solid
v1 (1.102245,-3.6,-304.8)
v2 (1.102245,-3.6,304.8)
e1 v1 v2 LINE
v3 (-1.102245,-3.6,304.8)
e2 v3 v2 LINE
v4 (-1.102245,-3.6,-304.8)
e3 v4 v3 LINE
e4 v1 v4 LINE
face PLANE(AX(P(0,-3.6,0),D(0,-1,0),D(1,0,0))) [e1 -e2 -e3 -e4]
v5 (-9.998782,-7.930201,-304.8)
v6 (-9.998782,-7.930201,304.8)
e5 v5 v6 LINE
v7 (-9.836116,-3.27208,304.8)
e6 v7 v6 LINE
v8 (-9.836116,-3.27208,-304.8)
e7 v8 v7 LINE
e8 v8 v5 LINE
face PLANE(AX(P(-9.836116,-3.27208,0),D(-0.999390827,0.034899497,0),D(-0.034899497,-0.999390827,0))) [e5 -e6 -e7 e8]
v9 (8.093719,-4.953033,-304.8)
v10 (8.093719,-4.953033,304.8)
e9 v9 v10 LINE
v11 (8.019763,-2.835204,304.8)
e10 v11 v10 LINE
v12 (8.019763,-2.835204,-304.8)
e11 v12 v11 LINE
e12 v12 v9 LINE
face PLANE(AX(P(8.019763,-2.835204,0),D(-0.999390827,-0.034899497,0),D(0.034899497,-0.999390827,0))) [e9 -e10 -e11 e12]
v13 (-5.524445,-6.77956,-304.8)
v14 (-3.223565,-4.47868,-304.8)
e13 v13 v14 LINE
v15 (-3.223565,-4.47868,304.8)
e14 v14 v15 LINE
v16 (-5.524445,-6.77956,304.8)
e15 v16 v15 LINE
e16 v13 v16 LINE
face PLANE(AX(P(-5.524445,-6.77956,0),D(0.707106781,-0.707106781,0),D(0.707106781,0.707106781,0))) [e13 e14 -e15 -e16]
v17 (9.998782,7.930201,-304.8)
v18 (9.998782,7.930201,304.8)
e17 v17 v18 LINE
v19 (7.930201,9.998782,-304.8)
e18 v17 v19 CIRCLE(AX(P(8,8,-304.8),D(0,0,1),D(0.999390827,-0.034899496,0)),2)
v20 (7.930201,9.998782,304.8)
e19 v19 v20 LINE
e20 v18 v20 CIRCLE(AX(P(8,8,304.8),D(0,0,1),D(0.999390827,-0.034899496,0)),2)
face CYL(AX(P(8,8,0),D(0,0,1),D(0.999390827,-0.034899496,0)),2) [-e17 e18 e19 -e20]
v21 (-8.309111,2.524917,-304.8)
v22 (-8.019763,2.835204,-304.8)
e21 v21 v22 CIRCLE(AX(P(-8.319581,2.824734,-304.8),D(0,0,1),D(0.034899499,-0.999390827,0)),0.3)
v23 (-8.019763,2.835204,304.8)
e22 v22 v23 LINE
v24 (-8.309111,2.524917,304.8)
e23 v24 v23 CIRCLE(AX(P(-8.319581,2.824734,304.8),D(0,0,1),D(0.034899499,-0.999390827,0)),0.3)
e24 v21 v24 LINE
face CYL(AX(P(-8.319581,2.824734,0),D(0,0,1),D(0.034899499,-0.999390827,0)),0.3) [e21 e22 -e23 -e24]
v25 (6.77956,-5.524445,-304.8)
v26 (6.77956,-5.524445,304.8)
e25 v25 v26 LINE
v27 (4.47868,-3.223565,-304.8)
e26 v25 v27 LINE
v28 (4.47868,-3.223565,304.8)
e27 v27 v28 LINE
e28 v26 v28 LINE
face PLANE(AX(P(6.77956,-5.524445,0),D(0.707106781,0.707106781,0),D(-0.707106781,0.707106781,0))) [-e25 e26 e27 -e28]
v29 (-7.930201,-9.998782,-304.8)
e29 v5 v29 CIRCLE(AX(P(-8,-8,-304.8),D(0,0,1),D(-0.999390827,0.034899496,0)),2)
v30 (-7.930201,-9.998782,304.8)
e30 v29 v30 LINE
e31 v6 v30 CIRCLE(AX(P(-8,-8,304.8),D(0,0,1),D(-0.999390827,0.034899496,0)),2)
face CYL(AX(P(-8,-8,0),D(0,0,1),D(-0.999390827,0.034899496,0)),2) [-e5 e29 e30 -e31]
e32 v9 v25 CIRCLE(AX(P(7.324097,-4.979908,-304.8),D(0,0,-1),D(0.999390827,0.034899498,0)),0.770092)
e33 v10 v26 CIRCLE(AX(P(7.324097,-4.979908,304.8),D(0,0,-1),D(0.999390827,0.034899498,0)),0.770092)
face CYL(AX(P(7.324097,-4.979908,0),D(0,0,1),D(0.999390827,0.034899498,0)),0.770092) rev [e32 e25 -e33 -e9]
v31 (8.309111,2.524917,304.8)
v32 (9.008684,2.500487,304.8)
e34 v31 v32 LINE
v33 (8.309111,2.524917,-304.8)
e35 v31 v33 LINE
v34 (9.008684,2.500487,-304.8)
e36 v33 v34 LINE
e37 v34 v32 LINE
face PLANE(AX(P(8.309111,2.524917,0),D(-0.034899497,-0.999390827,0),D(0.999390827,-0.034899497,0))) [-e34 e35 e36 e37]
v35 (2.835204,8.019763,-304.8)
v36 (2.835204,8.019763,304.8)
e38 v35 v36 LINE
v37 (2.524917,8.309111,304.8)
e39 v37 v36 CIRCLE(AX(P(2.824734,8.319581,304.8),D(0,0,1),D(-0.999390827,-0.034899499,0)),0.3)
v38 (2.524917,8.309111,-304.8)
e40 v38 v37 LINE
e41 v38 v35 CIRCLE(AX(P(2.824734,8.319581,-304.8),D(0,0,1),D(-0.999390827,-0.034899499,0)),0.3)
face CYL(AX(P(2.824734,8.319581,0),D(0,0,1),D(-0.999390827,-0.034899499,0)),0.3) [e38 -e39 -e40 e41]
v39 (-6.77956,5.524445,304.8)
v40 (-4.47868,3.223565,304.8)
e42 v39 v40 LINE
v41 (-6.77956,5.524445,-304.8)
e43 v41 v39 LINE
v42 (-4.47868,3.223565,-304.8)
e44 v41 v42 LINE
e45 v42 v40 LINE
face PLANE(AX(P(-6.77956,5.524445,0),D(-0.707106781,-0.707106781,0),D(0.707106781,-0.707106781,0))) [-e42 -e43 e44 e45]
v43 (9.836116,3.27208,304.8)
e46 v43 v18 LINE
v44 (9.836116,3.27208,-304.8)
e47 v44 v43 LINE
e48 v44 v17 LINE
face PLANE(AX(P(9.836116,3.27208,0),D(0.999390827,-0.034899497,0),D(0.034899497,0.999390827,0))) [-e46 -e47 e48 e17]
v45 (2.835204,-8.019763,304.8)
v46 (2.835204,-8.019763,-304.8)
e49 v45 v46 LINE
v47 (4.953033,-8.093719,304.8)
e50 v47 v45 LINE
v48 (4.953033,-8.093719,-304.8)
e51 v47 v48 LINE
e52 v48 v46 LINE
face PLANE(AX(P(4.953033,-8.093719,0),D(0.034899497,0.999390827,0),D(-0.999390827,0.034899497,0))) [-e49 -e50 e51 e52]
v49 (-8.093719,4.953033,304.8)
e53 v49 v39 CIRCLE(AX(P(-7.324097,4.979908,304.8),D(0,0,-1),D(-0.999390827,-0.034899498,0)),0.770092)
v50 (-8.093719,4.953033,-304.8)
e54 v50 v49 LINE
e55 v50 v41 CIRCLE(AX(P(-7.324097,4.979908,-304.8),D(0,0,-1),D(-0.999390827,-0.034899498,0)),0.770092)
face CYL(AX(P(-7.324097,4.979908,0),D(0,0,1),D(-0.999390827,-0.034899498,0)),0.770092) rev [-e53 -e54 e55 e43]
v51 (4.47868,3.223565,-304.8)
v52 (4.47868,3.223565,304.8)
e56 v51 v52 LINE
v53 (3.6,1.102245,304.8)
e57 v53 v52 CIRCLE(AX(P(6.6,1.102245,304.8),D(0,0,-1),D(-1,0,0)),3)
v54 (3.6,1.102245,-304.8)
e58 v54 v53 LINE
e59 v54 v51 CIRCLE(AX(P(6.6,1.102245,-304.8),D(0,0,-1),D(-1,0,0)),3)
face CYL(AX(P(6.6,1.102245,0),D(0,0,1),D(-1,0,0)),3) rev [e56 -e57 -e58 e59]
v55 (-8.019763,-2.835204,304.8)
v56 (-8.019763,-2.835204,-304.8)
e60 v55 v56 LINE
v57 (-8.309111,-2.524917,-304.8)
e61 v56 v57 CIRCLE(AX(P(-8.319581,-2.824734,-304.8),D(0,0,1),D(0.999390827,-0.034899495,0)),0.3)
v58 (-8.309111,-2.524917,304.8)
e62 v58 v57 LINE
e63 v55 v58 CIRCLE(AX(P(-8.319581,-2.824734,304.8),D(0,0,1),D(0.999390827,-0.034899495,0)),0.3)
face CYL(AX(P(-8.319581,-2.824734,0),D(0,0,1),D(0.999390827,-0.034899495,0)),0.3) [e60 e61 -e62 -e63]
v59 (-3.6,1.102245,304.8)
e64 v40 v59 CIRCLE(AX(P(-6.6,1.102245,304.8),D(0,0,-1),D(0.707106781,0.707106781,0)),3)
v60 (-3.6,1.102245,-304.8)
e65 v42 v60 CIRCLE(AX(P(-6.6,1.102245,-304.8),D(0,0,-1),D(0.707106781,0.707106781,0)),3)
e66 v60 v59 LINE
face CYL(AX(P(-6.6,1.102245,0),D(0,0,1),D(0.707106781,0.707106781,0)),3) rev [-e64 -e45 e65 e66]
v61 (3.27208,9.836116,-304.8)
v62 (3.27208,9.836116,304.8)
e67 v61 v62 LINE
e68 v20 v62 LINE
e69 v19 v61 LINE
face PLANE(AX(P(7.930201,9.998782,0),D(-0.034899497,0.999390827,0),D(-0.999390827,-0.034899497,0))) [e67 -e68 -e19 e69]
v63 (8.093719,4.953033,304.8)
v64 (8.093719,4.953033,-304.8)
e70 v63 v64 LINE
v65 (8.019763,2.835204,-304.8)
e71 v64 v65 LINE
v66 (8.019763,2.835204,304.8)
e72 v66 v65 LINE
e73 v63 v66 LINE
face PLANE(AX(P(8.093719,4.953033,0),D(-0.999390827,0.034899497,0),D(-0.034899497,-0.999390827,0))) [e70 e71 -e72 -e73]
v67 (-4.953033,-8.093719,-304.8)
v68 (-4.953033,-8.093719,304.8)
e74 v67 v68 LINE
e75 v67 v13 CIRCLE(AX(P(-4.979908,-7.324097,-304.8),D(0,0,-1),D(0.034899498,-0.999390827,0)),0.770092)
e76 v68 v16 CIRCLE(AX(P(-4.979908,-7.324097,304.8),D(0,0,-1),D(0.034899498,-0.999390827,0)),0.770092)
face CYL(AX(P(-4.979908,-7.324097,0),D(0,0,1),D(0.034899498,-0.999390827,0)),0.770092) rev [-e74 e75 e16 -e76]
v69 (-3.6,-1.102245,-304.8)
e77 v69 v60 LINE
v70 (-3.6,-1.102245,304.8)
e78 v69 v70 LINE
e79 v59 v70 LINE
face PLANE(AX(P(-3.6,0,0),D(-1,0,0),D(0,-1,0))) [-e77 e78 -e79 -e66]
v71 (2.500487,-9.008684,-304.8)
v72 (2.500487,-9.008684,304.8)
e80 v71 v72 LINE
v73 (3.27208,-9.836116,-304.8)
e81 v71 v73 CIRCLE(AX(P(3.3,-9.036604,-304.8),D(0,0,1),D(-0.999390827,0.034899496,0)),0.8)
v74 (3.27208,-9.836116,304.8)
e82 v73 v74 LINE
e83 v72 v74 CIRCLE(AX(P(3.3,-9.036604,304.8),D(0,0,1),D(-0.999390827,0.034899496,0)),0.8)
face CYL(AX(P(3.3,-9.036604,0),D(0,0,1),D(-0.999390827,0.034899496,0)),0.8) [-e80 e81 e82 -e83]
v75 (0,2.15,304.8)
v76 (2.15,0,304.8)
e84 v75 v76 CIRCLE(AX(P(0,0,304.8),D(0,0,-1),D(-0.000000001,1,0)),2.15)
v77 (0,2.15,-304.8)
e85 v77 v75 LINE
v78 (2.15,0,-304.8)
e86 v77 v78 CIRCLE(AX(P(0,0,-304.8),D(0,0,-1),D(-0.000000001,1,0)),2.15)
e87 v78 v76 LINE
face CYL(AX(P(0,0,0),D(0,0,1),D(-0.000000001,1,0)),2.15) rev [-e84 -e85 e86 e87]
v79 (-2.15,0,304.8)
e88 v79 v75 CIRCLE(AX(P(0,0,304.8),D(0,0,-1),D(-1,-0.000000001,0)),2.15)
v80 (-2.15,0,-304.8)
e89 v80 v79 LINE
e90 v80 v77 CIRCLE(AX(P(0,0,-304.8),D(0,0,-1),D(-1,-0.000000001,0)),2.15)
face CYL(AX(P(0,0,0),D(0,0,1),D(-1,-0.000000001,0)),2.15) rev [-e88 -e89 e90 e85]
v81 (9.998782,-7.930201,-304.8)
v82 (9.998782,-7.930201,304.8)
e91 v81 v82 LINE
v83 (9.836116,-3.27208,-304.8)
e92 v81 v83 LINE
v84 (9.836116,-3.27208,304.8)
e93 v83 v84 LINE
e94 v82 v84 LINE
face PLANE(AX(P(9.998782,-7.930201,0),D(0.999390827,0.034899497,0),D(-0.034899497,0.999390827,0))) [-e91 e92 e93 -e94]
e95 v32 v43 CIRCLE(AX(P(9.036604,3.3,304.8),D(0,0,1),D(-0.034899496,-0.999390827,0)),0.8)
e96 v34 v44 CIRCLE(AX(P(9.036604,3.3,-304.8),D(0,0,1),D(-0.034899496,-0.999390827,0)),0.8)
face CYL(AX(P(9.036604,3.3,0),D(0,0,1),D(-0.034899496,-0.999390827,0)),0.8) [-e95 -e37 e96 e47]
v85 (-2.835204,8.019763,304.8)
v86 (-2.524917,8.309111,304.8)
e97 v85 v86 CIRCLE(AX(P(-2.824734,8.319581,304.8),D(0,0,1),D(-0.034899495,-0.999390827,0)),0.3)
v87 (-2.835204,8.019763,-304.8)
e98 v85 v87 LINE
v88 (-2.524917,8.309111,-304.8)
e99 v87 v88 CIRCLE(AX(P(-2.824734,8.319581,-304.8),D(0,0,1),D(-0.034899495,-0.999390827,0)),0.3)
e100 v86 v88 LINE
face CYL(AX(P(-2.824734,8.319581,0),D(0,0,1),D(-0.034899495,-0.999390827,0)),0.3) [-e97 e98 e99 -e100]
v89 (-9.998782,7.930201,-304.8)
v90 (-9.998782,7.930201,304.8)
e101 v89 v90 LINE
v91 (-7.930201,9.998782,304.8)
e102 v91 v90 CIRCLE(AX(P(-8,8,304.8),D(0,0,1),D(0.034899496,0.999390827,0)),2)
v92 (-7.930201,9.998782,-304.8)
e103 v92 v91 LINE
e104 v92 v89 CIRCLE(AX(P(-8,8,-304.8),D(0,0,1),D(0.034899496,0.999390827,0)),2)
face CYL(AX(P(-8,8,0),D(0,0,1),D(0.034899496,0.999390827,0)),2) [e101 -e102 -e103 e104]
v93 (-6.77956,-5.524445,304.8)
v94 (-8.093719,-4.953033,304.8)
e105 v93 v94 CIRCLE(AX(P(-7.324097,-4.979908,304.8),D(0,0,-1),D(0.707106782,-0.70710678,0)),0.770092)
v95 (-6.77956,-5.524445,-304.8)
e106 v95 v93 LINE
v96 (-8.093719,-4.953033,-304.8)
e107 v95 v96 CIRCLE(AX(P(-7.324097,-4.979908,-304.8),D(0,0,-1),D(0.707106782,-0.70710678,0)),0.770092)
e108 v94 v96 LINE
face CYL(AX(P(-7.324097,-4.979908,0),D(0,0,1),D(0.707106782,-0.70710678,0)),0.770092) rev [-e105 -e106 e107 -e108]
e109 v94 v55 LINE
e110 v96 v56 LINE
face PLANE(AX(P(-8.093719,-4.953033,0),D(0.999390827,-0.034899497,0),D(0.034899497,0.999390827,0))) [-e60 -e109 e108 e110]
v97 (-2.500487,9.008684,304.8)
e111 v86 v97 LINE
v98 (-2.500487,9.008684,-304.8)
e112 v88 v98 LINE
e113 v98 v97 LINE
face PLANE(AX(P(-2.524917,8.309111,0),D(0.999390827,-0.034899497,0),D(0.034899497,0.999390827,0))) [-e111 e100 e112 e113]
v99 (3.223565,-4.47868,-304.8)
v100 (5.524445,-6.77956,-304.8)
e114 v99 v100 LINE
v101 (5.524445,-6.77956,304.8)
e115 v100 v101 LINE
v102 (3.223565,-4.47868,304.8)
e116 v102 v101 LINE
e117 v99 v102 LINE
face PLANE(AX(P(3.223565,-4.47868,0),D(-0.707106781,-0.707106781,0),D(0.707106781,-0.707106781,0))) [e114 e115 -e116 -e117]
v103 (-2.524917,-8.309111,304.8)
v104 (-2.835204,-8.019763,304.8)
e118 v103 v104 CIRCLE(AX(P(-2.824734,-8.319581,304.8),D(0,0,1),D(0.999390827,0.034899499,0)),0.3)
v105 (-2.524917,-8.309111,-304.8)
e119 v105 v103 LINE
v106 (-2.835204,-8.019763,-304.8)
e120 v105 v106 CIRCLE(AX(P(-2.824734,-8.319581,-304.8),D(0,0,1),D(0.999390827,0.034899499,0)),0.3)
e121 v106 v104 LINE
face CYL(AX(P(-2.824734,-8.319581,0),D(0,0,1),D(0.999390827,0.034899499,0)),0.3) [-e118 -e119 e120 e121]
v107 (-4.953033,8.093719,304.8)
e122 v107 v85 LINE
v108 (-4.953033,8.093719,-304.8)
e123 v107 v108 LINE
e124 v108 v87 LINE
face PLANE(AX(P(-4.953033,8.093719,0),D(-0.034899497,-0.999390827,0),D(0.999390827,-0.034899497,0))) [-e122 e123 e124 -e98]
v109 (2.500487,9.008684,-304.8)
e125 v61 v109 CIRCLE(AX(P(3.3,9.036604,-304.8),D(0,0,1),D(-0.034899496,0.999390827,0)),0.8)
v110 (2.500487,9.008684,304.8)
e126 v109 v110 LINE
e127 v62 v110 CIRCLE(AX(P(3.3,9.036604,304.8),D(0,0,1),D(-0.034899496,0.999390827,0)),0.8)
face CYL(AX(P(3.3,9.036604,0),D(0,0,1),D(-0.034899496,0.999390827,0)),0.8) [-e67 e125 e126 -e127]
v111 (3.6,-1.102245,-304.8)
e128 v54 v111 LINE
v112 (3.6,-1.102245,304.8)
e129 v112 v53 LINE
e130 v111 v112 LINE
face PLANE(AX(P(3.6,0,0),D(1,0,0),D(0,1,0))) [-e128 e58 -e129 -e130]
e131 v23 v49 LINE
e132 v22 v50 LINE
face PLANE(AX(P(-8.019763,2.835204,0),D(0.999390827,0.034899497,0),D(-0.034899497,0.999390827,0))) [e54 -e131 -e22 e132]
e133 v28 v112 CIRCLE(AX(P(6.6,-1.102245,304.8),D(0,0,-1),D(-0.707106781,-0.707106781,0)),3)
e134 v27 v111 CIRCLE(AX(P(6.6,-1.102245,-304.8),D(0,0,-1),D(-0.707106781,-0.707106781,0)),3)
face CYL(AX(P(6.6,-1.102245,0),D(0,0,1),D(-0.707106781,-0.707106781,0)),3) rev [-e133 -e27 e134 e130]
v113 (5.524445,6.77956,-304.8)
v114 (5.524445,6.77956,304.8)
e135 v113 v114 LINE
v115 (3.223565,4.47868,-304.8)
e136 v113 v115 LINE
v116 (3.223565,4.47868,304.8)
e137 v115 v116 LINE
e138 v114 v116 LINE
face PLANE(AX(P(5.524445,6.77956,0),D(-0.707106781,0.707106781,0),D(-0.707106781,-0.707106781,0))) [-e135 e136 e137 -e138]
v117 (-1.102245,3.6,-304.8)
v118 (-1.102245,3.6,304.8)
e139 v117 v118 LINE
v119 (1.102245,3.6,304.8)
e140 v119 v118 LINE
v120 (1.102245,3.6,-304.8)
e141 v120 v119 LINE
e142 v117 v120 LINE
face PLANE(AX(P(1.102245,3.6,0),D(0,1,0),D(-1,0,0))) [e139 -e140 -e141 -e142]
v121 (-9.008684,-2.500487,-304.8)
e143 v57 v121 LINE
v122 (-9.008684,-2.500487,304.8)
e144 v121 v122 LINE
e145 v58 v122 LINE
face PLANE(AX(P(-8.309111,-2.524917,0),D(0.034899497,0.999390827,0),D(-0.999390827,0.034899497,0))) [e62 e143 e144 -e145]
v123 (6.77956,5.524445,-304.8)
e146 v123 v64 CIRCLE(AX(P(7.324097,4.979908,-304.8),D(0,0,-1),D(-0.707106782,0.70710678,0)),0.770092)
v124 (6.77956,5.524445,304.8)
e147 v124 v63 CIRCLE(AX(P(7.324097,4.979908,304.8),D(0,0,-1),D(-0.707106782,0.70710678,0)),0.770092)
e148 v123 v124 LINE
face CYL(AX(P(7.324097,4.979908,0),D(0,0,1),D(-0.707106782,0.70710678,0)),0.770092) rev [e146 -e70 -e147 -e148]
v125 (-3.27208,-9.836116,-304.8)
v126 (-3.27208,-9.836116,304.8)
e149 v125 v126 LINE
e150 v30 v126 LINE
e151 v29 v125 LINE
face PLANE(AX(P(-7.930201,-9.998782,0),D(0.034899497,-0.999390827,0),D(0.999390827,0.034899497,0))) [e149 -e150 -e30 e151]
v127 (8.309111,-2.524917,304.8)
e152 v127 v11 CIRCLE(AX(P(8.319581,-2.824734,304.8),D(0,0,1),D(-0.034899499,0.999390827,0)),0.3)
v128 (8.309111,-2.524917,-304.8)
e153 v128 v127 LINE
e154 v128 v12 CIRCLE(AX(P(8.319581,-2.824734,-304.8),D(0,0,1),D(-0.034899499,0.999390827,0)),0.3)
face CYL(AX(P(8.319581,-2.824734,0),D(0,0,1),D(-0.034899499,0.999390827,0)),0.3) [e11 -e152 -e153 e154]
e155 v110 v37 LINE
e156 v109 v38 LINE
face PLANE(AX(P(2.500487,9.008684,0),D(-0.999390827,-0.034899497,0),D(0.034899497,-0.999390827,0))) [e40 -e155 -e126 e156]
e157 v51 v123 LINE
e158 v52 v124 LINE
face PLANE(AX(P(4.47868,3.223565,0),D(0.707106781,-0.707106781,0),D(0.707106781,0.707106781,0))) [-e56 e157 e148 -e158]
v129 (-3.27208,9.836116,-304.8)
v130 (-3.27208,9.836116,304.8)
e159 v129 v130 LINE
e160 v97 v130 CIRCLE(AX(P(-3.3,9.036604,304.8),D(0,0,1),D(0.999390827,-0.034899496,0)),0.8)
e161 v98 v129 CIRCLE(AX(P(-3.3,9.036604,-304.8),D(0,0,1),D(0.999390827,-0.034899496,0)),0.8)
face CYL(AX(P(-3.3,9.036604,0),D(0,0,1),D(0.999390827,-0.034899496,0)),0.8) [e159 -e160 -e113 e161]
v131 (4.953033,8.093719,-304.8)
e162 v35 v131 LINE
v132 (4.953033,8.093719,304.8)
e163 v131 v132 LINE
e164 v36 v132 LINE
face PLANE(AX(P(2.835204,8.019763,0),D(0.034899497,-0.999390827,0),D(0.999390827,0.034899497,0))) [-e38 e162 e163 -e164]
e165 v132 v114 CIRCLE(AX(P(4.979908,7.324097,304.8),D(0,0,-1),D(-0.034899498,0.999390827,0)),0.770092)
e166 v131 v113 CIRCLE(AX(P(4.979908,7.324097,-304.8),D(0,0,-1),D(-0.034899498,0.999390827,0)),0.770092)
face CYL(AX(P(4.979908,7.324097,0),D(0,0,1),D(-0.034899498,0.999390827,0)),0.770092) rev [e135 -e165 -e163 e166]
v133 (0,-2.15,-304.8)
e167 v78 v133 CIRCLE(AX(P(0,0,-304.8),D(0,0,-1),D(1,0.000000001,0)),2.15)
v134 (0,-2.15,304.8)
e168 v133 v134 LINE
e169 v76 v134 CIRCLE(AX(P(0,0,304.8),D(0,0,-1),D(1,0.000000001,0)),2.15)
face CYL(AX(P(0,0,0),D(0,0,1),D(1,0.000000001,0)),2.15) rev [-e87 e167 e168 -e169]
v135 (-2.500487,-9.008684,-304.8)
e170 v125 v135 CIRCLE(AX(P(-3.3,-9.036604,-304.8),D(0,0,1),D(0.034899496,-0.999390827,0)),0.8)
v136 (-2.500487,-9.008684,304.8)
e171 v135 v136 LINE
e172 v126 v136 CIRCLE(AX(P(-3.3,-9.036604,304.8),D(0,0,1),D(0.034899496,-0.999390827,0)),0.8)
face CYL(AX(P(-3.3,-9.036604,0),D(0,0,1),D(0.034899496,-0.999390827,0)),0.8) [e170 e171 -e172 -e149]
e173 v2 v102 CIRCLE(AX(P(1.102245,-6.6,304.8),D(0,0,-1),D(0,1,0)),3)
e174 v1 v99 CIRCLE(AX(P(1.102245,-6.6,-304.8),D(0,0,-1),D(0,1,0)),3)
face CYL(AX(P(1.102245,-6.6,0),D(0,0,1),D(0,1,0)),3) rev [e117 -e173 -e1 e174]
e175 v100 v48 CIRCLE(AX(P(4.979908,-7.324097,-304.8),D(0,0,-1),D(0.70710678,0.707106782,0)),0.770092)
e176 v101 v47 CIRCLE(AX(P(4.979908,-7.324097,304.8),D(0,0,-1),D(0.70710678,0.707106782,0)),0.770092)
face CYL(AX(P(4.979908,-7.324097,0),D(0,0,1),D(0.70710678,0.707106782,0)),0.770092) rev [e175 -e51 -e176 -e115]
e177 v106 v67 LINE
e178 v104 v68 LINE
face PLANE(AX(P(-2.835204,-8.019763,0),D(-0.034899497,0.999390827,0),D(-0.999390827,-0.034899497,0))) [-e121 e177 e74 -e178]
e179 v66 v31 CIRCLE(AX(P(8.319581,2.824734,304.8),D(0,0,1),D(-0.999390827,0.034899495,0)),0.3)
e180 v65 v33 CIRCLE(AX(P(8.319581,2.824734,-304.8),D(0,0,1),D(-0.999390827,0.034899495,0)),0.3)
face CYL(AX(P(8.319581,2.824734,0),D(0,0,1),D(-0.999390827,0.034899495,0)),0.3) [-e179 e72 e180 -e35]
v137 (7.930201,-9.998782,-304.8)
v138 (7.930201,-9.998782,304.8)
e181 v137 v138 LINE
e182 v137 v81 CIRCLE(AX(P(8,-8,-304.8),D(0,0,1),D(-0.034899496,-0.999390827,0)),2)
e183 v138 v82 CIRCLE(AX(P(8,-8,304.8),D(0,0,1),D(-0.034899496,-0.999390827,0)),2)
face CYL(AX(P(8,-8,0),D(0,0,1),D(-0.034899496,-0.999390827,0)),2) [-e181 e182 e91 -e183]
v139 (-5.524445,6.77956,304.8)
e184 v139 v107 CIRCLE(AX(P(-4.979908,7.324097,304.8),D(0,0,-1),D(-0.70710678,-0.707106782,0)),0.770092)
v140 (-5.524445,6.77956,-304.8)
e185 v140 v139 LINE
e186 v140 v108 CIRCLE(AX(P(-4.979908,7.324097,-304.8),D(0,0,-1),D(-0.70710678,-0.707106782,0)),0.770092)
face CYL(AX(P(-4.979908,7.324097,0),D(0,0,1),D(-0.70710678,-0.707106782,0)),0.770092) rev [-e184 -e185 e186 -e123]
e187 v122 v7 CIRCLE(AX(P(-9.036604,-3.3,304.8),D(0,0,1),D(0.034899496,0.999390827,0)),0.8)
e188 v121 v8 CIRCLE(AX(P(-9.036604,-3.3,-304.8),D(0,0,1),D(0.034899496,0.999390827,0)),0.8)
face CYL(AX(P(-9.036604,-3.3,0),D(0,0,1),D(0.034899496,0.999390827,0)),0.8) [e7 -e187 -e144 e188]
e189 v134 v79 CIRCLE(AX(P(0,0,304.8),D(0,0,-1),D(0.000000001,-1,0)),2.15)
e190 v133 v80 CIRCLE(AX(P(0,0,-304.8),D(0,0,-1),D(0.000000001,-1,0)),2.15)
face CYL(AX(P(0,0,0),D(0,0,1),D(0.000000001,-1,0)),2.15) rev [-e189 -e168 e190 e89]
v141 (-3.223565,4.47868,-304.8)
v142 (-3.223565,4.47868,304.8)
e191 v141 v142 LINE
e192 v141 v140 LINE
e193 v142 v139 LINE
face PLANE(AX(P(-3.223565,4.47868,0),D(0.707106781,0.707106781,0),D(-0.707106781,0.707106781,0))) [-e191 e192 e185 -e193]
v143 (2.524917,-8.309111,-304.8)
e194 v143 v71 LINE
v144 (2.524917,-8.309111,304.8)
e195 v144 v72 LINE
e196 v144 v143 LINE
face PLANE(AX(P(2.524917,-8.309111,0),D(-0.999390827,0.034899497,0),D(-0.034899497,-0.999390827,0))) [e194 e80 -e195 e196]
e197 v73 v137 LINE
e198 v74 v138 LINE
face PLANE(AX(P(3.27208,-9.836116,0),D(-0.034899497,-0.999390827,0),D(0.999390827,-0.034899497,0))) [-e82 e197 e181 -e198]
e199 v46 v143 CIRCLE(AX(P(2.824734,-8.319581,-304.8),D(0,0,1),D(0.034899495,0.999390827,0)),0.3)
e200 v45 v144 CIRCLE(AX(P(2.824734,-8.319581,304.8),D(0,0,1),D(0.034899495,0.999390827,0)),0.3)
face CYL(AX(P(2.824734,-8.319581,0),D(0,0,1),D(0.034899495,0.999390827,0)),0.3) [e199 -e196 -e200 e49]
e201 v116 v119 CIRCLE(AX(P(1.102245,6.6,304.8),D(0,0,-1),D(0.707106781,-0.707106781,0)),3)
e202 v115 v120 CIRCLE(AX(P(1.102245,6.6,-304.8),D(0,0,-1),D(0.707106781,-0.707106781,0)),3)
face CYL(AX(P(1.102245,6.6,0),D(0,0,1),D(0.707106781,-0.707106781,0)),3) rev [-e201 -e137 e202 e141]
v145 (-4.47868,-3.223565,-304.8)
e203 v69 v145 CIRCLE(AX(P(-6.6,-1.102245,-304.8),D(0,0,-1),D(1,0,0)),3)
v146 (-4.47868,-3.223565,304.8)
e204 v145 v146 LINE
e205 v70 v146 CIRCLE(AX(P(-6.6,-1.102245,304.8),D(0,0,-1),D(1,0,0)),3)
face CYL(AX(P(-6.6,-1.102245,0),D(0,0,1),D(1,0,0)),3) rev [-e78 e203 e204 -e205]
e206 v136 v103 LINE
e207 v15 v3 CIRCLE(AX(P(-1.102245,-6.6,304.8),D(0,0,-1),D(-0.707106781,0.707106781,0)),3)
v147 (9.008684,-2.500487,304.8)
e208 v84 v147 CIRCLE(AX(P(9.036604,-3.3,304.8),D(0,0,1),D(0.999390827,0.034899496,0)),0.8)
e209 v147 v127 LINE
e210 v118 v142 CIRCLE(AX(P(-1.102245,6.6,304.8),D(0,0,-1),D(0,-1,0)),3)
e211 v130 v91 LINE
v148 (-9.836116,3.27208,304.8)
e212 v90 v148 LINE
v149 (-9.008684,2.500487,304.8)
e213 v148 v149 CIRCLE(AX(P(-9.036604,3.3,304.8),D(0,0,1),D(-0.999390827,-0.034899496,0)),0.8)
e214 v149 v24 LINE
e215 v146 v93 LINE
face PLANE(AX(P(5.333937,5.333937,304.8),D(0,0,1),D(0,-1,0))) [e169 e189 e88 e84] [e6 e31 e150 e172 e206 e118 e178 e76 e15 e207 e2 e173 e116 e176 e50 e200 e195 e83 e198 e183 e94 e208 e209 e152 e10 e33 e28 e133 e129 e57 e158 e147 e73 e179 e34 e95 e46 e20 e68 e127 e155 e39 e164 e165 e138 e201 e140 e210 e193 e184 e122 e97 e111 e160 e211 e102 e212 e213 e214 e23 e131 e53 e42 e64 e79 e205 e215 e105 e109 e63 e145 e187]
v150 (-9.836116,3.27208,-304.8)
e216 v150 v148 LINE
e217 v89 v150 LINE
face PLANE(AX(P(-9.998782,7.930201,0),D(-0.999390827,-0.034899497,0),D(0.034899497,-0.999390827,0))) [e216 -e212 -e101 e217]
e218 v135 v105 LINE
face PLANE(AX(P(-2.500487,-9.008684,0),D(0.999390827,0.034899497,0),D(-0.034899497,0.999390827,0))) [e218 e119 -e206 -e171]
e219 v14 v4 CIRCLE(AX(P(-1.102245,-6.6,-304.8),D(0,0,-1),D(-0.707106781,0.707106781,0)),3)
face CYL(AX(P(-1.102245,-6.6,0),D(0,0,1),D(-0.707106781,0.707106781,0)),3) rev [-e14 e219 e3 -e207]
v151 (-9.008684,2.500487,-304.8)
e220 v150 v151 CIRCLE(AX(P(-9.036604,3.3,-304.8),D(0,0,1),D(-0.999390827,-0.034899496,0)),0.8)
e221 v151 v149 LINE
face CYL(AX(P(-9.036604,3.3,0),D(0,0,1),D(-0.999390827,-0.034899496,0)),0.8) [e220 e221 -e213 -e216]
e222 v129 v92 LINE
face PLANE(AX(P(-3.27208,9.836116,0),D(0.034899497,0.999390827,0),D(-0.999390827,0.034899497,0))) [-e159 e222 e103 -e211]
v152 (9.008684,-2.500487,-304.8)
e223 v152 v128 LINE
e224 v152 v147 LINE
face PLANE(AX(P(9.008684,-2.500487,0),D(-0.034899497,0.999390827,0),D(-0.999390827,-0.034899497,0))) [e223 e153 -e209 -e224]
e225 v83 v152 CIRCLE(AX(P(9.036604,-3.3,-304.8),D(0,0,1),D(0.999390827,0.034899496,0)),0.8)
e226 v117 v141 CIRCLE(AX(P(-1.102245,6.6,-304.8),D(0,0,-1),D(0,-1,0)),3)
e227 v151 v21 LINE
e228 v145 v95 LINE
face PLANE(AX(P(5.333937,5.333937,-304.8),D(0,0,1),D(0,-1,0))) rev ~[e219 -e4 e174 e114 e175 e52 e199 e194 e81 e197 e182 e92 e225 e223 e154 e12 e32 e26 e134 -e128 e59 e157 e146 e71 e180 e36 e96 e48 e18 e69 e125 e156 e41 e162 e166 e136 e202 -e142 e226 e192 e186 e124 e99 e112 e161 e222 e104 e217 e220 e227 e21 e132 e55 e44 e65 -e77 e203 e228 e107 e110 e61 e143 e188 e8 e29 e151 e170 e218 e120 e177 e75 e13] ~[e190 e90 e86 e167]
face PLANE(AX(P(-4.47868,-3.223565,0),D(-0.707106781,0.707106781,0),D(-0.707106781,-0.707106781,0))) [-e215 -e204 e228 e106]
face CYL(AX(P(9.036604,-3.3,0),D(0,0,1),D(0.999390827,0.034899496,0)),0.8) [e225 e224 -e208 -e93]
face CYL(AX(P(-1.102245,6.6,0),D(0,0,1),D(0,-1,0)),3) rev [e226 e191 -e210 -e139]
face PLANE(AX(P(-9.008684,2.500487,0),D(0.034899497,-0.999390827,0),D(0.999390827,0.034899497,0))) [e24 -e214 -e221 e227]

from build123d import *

# Parameters (mm, degrees)
BOSS_EXTRUDE1_DEPTH = 304.8
CIRPATTERN1_COUNT   = 4


with BuildPart() as part:
    # Sketch3 → Boss-Extrude1 (new body, symmetric)
    with BuildSketch(Plane.XY):
        with BuildLine():
            Line((-2.524916986, 8.30911066), (-2.500487338, 9.008684239))
            ThreePointArc((-2.500487338, 9.008684239), (-2.714917039, 9.582202525), (-3.272080403, 9.836116498))
            Line((-3.272080403, 9.836116498), (-7.930201007, 9.998781654))
            ThreePointArc((-7.930201007, 9.998781654), (-9.414213562, 9.414213562), (-9.998781654, 7.930201007))
            Line((-9.998781654, 7.930201007), (-9.836116498, 3.272080403))
            ThreePointArc((-9.836116498, 3.272080403), (-9.582202525, 2.714917039), (-9.008684239, 2.500487338))
            Line((-9.008684239, 2.500487338), (-8.30911066, 2.524916986))
            ThreePointArc((-8.30911066, 2.524916986), (-8.100174399, 2.620134726), (-8.019763261, 2.835204083))
            Line((-8.019763261, 2.835204083), (-8.093719461, 4.953032548))
            ThreePointArc((-8.093719461, 4.953032548), (-7.631170264, 5.686128657), (-6.779559917, 5.52444538))
            Line((-6.779559917, 5.52444538), (-4.478679656, 3.22356512))
            ThreePointArc((-4.478679656, 3.22356512), (-3.828361402, 2.250295073), (-3.6, 1.102244776))
            Line((-3.6, 1.102244776), (-3.6, 0))
            Line((-3.6, 0), (-2.15, 0))
            ThreePointArc((-2.15, 0), (-1.52027958, 1.52027958), (0, 2.15))
            Line((0, 2.15), (0, 3.6))
            Line((0, 3.6), (-1.102244776, 3.6))
            ThreePointArc((-1.102244776, 3.6), (-2.250295073, 3.828361402), (-3.22356512, 4.478679656))
            Line((-3.22356512, 4.478679656), (-5.52444538, 6.779559917))
            ThreePointArc((-5.52444538, 6.779559917), (-5.686128657, 7.631170264), (-4.953032548, 8.093719461))
            Line((-4.953032548, 8.093719461), (-2.835204083, 8.019763261))
            ThreePointArc((-2.835204083, 8.019763261), (-2.620134726, 8.100174399), (-2.524916986, 8.30911066))
        make_face()
    boss_extrude1 = extrude(amount=BOSS_EXTRUDE1_DEPTH, both=True)

    # CirPattern1: Boss-Extrude1 ×4 about axis
    cirpattern1_axis = Axis((0, 0, 0), (0, 0, 1))
    for i in range(1, CIRPATTERN1_COUNT):
        add(boss_extrude1.rotate(cirpattern1_axis, i * 360 / CIRPATTERN1_COUNT))


solid = part.part
